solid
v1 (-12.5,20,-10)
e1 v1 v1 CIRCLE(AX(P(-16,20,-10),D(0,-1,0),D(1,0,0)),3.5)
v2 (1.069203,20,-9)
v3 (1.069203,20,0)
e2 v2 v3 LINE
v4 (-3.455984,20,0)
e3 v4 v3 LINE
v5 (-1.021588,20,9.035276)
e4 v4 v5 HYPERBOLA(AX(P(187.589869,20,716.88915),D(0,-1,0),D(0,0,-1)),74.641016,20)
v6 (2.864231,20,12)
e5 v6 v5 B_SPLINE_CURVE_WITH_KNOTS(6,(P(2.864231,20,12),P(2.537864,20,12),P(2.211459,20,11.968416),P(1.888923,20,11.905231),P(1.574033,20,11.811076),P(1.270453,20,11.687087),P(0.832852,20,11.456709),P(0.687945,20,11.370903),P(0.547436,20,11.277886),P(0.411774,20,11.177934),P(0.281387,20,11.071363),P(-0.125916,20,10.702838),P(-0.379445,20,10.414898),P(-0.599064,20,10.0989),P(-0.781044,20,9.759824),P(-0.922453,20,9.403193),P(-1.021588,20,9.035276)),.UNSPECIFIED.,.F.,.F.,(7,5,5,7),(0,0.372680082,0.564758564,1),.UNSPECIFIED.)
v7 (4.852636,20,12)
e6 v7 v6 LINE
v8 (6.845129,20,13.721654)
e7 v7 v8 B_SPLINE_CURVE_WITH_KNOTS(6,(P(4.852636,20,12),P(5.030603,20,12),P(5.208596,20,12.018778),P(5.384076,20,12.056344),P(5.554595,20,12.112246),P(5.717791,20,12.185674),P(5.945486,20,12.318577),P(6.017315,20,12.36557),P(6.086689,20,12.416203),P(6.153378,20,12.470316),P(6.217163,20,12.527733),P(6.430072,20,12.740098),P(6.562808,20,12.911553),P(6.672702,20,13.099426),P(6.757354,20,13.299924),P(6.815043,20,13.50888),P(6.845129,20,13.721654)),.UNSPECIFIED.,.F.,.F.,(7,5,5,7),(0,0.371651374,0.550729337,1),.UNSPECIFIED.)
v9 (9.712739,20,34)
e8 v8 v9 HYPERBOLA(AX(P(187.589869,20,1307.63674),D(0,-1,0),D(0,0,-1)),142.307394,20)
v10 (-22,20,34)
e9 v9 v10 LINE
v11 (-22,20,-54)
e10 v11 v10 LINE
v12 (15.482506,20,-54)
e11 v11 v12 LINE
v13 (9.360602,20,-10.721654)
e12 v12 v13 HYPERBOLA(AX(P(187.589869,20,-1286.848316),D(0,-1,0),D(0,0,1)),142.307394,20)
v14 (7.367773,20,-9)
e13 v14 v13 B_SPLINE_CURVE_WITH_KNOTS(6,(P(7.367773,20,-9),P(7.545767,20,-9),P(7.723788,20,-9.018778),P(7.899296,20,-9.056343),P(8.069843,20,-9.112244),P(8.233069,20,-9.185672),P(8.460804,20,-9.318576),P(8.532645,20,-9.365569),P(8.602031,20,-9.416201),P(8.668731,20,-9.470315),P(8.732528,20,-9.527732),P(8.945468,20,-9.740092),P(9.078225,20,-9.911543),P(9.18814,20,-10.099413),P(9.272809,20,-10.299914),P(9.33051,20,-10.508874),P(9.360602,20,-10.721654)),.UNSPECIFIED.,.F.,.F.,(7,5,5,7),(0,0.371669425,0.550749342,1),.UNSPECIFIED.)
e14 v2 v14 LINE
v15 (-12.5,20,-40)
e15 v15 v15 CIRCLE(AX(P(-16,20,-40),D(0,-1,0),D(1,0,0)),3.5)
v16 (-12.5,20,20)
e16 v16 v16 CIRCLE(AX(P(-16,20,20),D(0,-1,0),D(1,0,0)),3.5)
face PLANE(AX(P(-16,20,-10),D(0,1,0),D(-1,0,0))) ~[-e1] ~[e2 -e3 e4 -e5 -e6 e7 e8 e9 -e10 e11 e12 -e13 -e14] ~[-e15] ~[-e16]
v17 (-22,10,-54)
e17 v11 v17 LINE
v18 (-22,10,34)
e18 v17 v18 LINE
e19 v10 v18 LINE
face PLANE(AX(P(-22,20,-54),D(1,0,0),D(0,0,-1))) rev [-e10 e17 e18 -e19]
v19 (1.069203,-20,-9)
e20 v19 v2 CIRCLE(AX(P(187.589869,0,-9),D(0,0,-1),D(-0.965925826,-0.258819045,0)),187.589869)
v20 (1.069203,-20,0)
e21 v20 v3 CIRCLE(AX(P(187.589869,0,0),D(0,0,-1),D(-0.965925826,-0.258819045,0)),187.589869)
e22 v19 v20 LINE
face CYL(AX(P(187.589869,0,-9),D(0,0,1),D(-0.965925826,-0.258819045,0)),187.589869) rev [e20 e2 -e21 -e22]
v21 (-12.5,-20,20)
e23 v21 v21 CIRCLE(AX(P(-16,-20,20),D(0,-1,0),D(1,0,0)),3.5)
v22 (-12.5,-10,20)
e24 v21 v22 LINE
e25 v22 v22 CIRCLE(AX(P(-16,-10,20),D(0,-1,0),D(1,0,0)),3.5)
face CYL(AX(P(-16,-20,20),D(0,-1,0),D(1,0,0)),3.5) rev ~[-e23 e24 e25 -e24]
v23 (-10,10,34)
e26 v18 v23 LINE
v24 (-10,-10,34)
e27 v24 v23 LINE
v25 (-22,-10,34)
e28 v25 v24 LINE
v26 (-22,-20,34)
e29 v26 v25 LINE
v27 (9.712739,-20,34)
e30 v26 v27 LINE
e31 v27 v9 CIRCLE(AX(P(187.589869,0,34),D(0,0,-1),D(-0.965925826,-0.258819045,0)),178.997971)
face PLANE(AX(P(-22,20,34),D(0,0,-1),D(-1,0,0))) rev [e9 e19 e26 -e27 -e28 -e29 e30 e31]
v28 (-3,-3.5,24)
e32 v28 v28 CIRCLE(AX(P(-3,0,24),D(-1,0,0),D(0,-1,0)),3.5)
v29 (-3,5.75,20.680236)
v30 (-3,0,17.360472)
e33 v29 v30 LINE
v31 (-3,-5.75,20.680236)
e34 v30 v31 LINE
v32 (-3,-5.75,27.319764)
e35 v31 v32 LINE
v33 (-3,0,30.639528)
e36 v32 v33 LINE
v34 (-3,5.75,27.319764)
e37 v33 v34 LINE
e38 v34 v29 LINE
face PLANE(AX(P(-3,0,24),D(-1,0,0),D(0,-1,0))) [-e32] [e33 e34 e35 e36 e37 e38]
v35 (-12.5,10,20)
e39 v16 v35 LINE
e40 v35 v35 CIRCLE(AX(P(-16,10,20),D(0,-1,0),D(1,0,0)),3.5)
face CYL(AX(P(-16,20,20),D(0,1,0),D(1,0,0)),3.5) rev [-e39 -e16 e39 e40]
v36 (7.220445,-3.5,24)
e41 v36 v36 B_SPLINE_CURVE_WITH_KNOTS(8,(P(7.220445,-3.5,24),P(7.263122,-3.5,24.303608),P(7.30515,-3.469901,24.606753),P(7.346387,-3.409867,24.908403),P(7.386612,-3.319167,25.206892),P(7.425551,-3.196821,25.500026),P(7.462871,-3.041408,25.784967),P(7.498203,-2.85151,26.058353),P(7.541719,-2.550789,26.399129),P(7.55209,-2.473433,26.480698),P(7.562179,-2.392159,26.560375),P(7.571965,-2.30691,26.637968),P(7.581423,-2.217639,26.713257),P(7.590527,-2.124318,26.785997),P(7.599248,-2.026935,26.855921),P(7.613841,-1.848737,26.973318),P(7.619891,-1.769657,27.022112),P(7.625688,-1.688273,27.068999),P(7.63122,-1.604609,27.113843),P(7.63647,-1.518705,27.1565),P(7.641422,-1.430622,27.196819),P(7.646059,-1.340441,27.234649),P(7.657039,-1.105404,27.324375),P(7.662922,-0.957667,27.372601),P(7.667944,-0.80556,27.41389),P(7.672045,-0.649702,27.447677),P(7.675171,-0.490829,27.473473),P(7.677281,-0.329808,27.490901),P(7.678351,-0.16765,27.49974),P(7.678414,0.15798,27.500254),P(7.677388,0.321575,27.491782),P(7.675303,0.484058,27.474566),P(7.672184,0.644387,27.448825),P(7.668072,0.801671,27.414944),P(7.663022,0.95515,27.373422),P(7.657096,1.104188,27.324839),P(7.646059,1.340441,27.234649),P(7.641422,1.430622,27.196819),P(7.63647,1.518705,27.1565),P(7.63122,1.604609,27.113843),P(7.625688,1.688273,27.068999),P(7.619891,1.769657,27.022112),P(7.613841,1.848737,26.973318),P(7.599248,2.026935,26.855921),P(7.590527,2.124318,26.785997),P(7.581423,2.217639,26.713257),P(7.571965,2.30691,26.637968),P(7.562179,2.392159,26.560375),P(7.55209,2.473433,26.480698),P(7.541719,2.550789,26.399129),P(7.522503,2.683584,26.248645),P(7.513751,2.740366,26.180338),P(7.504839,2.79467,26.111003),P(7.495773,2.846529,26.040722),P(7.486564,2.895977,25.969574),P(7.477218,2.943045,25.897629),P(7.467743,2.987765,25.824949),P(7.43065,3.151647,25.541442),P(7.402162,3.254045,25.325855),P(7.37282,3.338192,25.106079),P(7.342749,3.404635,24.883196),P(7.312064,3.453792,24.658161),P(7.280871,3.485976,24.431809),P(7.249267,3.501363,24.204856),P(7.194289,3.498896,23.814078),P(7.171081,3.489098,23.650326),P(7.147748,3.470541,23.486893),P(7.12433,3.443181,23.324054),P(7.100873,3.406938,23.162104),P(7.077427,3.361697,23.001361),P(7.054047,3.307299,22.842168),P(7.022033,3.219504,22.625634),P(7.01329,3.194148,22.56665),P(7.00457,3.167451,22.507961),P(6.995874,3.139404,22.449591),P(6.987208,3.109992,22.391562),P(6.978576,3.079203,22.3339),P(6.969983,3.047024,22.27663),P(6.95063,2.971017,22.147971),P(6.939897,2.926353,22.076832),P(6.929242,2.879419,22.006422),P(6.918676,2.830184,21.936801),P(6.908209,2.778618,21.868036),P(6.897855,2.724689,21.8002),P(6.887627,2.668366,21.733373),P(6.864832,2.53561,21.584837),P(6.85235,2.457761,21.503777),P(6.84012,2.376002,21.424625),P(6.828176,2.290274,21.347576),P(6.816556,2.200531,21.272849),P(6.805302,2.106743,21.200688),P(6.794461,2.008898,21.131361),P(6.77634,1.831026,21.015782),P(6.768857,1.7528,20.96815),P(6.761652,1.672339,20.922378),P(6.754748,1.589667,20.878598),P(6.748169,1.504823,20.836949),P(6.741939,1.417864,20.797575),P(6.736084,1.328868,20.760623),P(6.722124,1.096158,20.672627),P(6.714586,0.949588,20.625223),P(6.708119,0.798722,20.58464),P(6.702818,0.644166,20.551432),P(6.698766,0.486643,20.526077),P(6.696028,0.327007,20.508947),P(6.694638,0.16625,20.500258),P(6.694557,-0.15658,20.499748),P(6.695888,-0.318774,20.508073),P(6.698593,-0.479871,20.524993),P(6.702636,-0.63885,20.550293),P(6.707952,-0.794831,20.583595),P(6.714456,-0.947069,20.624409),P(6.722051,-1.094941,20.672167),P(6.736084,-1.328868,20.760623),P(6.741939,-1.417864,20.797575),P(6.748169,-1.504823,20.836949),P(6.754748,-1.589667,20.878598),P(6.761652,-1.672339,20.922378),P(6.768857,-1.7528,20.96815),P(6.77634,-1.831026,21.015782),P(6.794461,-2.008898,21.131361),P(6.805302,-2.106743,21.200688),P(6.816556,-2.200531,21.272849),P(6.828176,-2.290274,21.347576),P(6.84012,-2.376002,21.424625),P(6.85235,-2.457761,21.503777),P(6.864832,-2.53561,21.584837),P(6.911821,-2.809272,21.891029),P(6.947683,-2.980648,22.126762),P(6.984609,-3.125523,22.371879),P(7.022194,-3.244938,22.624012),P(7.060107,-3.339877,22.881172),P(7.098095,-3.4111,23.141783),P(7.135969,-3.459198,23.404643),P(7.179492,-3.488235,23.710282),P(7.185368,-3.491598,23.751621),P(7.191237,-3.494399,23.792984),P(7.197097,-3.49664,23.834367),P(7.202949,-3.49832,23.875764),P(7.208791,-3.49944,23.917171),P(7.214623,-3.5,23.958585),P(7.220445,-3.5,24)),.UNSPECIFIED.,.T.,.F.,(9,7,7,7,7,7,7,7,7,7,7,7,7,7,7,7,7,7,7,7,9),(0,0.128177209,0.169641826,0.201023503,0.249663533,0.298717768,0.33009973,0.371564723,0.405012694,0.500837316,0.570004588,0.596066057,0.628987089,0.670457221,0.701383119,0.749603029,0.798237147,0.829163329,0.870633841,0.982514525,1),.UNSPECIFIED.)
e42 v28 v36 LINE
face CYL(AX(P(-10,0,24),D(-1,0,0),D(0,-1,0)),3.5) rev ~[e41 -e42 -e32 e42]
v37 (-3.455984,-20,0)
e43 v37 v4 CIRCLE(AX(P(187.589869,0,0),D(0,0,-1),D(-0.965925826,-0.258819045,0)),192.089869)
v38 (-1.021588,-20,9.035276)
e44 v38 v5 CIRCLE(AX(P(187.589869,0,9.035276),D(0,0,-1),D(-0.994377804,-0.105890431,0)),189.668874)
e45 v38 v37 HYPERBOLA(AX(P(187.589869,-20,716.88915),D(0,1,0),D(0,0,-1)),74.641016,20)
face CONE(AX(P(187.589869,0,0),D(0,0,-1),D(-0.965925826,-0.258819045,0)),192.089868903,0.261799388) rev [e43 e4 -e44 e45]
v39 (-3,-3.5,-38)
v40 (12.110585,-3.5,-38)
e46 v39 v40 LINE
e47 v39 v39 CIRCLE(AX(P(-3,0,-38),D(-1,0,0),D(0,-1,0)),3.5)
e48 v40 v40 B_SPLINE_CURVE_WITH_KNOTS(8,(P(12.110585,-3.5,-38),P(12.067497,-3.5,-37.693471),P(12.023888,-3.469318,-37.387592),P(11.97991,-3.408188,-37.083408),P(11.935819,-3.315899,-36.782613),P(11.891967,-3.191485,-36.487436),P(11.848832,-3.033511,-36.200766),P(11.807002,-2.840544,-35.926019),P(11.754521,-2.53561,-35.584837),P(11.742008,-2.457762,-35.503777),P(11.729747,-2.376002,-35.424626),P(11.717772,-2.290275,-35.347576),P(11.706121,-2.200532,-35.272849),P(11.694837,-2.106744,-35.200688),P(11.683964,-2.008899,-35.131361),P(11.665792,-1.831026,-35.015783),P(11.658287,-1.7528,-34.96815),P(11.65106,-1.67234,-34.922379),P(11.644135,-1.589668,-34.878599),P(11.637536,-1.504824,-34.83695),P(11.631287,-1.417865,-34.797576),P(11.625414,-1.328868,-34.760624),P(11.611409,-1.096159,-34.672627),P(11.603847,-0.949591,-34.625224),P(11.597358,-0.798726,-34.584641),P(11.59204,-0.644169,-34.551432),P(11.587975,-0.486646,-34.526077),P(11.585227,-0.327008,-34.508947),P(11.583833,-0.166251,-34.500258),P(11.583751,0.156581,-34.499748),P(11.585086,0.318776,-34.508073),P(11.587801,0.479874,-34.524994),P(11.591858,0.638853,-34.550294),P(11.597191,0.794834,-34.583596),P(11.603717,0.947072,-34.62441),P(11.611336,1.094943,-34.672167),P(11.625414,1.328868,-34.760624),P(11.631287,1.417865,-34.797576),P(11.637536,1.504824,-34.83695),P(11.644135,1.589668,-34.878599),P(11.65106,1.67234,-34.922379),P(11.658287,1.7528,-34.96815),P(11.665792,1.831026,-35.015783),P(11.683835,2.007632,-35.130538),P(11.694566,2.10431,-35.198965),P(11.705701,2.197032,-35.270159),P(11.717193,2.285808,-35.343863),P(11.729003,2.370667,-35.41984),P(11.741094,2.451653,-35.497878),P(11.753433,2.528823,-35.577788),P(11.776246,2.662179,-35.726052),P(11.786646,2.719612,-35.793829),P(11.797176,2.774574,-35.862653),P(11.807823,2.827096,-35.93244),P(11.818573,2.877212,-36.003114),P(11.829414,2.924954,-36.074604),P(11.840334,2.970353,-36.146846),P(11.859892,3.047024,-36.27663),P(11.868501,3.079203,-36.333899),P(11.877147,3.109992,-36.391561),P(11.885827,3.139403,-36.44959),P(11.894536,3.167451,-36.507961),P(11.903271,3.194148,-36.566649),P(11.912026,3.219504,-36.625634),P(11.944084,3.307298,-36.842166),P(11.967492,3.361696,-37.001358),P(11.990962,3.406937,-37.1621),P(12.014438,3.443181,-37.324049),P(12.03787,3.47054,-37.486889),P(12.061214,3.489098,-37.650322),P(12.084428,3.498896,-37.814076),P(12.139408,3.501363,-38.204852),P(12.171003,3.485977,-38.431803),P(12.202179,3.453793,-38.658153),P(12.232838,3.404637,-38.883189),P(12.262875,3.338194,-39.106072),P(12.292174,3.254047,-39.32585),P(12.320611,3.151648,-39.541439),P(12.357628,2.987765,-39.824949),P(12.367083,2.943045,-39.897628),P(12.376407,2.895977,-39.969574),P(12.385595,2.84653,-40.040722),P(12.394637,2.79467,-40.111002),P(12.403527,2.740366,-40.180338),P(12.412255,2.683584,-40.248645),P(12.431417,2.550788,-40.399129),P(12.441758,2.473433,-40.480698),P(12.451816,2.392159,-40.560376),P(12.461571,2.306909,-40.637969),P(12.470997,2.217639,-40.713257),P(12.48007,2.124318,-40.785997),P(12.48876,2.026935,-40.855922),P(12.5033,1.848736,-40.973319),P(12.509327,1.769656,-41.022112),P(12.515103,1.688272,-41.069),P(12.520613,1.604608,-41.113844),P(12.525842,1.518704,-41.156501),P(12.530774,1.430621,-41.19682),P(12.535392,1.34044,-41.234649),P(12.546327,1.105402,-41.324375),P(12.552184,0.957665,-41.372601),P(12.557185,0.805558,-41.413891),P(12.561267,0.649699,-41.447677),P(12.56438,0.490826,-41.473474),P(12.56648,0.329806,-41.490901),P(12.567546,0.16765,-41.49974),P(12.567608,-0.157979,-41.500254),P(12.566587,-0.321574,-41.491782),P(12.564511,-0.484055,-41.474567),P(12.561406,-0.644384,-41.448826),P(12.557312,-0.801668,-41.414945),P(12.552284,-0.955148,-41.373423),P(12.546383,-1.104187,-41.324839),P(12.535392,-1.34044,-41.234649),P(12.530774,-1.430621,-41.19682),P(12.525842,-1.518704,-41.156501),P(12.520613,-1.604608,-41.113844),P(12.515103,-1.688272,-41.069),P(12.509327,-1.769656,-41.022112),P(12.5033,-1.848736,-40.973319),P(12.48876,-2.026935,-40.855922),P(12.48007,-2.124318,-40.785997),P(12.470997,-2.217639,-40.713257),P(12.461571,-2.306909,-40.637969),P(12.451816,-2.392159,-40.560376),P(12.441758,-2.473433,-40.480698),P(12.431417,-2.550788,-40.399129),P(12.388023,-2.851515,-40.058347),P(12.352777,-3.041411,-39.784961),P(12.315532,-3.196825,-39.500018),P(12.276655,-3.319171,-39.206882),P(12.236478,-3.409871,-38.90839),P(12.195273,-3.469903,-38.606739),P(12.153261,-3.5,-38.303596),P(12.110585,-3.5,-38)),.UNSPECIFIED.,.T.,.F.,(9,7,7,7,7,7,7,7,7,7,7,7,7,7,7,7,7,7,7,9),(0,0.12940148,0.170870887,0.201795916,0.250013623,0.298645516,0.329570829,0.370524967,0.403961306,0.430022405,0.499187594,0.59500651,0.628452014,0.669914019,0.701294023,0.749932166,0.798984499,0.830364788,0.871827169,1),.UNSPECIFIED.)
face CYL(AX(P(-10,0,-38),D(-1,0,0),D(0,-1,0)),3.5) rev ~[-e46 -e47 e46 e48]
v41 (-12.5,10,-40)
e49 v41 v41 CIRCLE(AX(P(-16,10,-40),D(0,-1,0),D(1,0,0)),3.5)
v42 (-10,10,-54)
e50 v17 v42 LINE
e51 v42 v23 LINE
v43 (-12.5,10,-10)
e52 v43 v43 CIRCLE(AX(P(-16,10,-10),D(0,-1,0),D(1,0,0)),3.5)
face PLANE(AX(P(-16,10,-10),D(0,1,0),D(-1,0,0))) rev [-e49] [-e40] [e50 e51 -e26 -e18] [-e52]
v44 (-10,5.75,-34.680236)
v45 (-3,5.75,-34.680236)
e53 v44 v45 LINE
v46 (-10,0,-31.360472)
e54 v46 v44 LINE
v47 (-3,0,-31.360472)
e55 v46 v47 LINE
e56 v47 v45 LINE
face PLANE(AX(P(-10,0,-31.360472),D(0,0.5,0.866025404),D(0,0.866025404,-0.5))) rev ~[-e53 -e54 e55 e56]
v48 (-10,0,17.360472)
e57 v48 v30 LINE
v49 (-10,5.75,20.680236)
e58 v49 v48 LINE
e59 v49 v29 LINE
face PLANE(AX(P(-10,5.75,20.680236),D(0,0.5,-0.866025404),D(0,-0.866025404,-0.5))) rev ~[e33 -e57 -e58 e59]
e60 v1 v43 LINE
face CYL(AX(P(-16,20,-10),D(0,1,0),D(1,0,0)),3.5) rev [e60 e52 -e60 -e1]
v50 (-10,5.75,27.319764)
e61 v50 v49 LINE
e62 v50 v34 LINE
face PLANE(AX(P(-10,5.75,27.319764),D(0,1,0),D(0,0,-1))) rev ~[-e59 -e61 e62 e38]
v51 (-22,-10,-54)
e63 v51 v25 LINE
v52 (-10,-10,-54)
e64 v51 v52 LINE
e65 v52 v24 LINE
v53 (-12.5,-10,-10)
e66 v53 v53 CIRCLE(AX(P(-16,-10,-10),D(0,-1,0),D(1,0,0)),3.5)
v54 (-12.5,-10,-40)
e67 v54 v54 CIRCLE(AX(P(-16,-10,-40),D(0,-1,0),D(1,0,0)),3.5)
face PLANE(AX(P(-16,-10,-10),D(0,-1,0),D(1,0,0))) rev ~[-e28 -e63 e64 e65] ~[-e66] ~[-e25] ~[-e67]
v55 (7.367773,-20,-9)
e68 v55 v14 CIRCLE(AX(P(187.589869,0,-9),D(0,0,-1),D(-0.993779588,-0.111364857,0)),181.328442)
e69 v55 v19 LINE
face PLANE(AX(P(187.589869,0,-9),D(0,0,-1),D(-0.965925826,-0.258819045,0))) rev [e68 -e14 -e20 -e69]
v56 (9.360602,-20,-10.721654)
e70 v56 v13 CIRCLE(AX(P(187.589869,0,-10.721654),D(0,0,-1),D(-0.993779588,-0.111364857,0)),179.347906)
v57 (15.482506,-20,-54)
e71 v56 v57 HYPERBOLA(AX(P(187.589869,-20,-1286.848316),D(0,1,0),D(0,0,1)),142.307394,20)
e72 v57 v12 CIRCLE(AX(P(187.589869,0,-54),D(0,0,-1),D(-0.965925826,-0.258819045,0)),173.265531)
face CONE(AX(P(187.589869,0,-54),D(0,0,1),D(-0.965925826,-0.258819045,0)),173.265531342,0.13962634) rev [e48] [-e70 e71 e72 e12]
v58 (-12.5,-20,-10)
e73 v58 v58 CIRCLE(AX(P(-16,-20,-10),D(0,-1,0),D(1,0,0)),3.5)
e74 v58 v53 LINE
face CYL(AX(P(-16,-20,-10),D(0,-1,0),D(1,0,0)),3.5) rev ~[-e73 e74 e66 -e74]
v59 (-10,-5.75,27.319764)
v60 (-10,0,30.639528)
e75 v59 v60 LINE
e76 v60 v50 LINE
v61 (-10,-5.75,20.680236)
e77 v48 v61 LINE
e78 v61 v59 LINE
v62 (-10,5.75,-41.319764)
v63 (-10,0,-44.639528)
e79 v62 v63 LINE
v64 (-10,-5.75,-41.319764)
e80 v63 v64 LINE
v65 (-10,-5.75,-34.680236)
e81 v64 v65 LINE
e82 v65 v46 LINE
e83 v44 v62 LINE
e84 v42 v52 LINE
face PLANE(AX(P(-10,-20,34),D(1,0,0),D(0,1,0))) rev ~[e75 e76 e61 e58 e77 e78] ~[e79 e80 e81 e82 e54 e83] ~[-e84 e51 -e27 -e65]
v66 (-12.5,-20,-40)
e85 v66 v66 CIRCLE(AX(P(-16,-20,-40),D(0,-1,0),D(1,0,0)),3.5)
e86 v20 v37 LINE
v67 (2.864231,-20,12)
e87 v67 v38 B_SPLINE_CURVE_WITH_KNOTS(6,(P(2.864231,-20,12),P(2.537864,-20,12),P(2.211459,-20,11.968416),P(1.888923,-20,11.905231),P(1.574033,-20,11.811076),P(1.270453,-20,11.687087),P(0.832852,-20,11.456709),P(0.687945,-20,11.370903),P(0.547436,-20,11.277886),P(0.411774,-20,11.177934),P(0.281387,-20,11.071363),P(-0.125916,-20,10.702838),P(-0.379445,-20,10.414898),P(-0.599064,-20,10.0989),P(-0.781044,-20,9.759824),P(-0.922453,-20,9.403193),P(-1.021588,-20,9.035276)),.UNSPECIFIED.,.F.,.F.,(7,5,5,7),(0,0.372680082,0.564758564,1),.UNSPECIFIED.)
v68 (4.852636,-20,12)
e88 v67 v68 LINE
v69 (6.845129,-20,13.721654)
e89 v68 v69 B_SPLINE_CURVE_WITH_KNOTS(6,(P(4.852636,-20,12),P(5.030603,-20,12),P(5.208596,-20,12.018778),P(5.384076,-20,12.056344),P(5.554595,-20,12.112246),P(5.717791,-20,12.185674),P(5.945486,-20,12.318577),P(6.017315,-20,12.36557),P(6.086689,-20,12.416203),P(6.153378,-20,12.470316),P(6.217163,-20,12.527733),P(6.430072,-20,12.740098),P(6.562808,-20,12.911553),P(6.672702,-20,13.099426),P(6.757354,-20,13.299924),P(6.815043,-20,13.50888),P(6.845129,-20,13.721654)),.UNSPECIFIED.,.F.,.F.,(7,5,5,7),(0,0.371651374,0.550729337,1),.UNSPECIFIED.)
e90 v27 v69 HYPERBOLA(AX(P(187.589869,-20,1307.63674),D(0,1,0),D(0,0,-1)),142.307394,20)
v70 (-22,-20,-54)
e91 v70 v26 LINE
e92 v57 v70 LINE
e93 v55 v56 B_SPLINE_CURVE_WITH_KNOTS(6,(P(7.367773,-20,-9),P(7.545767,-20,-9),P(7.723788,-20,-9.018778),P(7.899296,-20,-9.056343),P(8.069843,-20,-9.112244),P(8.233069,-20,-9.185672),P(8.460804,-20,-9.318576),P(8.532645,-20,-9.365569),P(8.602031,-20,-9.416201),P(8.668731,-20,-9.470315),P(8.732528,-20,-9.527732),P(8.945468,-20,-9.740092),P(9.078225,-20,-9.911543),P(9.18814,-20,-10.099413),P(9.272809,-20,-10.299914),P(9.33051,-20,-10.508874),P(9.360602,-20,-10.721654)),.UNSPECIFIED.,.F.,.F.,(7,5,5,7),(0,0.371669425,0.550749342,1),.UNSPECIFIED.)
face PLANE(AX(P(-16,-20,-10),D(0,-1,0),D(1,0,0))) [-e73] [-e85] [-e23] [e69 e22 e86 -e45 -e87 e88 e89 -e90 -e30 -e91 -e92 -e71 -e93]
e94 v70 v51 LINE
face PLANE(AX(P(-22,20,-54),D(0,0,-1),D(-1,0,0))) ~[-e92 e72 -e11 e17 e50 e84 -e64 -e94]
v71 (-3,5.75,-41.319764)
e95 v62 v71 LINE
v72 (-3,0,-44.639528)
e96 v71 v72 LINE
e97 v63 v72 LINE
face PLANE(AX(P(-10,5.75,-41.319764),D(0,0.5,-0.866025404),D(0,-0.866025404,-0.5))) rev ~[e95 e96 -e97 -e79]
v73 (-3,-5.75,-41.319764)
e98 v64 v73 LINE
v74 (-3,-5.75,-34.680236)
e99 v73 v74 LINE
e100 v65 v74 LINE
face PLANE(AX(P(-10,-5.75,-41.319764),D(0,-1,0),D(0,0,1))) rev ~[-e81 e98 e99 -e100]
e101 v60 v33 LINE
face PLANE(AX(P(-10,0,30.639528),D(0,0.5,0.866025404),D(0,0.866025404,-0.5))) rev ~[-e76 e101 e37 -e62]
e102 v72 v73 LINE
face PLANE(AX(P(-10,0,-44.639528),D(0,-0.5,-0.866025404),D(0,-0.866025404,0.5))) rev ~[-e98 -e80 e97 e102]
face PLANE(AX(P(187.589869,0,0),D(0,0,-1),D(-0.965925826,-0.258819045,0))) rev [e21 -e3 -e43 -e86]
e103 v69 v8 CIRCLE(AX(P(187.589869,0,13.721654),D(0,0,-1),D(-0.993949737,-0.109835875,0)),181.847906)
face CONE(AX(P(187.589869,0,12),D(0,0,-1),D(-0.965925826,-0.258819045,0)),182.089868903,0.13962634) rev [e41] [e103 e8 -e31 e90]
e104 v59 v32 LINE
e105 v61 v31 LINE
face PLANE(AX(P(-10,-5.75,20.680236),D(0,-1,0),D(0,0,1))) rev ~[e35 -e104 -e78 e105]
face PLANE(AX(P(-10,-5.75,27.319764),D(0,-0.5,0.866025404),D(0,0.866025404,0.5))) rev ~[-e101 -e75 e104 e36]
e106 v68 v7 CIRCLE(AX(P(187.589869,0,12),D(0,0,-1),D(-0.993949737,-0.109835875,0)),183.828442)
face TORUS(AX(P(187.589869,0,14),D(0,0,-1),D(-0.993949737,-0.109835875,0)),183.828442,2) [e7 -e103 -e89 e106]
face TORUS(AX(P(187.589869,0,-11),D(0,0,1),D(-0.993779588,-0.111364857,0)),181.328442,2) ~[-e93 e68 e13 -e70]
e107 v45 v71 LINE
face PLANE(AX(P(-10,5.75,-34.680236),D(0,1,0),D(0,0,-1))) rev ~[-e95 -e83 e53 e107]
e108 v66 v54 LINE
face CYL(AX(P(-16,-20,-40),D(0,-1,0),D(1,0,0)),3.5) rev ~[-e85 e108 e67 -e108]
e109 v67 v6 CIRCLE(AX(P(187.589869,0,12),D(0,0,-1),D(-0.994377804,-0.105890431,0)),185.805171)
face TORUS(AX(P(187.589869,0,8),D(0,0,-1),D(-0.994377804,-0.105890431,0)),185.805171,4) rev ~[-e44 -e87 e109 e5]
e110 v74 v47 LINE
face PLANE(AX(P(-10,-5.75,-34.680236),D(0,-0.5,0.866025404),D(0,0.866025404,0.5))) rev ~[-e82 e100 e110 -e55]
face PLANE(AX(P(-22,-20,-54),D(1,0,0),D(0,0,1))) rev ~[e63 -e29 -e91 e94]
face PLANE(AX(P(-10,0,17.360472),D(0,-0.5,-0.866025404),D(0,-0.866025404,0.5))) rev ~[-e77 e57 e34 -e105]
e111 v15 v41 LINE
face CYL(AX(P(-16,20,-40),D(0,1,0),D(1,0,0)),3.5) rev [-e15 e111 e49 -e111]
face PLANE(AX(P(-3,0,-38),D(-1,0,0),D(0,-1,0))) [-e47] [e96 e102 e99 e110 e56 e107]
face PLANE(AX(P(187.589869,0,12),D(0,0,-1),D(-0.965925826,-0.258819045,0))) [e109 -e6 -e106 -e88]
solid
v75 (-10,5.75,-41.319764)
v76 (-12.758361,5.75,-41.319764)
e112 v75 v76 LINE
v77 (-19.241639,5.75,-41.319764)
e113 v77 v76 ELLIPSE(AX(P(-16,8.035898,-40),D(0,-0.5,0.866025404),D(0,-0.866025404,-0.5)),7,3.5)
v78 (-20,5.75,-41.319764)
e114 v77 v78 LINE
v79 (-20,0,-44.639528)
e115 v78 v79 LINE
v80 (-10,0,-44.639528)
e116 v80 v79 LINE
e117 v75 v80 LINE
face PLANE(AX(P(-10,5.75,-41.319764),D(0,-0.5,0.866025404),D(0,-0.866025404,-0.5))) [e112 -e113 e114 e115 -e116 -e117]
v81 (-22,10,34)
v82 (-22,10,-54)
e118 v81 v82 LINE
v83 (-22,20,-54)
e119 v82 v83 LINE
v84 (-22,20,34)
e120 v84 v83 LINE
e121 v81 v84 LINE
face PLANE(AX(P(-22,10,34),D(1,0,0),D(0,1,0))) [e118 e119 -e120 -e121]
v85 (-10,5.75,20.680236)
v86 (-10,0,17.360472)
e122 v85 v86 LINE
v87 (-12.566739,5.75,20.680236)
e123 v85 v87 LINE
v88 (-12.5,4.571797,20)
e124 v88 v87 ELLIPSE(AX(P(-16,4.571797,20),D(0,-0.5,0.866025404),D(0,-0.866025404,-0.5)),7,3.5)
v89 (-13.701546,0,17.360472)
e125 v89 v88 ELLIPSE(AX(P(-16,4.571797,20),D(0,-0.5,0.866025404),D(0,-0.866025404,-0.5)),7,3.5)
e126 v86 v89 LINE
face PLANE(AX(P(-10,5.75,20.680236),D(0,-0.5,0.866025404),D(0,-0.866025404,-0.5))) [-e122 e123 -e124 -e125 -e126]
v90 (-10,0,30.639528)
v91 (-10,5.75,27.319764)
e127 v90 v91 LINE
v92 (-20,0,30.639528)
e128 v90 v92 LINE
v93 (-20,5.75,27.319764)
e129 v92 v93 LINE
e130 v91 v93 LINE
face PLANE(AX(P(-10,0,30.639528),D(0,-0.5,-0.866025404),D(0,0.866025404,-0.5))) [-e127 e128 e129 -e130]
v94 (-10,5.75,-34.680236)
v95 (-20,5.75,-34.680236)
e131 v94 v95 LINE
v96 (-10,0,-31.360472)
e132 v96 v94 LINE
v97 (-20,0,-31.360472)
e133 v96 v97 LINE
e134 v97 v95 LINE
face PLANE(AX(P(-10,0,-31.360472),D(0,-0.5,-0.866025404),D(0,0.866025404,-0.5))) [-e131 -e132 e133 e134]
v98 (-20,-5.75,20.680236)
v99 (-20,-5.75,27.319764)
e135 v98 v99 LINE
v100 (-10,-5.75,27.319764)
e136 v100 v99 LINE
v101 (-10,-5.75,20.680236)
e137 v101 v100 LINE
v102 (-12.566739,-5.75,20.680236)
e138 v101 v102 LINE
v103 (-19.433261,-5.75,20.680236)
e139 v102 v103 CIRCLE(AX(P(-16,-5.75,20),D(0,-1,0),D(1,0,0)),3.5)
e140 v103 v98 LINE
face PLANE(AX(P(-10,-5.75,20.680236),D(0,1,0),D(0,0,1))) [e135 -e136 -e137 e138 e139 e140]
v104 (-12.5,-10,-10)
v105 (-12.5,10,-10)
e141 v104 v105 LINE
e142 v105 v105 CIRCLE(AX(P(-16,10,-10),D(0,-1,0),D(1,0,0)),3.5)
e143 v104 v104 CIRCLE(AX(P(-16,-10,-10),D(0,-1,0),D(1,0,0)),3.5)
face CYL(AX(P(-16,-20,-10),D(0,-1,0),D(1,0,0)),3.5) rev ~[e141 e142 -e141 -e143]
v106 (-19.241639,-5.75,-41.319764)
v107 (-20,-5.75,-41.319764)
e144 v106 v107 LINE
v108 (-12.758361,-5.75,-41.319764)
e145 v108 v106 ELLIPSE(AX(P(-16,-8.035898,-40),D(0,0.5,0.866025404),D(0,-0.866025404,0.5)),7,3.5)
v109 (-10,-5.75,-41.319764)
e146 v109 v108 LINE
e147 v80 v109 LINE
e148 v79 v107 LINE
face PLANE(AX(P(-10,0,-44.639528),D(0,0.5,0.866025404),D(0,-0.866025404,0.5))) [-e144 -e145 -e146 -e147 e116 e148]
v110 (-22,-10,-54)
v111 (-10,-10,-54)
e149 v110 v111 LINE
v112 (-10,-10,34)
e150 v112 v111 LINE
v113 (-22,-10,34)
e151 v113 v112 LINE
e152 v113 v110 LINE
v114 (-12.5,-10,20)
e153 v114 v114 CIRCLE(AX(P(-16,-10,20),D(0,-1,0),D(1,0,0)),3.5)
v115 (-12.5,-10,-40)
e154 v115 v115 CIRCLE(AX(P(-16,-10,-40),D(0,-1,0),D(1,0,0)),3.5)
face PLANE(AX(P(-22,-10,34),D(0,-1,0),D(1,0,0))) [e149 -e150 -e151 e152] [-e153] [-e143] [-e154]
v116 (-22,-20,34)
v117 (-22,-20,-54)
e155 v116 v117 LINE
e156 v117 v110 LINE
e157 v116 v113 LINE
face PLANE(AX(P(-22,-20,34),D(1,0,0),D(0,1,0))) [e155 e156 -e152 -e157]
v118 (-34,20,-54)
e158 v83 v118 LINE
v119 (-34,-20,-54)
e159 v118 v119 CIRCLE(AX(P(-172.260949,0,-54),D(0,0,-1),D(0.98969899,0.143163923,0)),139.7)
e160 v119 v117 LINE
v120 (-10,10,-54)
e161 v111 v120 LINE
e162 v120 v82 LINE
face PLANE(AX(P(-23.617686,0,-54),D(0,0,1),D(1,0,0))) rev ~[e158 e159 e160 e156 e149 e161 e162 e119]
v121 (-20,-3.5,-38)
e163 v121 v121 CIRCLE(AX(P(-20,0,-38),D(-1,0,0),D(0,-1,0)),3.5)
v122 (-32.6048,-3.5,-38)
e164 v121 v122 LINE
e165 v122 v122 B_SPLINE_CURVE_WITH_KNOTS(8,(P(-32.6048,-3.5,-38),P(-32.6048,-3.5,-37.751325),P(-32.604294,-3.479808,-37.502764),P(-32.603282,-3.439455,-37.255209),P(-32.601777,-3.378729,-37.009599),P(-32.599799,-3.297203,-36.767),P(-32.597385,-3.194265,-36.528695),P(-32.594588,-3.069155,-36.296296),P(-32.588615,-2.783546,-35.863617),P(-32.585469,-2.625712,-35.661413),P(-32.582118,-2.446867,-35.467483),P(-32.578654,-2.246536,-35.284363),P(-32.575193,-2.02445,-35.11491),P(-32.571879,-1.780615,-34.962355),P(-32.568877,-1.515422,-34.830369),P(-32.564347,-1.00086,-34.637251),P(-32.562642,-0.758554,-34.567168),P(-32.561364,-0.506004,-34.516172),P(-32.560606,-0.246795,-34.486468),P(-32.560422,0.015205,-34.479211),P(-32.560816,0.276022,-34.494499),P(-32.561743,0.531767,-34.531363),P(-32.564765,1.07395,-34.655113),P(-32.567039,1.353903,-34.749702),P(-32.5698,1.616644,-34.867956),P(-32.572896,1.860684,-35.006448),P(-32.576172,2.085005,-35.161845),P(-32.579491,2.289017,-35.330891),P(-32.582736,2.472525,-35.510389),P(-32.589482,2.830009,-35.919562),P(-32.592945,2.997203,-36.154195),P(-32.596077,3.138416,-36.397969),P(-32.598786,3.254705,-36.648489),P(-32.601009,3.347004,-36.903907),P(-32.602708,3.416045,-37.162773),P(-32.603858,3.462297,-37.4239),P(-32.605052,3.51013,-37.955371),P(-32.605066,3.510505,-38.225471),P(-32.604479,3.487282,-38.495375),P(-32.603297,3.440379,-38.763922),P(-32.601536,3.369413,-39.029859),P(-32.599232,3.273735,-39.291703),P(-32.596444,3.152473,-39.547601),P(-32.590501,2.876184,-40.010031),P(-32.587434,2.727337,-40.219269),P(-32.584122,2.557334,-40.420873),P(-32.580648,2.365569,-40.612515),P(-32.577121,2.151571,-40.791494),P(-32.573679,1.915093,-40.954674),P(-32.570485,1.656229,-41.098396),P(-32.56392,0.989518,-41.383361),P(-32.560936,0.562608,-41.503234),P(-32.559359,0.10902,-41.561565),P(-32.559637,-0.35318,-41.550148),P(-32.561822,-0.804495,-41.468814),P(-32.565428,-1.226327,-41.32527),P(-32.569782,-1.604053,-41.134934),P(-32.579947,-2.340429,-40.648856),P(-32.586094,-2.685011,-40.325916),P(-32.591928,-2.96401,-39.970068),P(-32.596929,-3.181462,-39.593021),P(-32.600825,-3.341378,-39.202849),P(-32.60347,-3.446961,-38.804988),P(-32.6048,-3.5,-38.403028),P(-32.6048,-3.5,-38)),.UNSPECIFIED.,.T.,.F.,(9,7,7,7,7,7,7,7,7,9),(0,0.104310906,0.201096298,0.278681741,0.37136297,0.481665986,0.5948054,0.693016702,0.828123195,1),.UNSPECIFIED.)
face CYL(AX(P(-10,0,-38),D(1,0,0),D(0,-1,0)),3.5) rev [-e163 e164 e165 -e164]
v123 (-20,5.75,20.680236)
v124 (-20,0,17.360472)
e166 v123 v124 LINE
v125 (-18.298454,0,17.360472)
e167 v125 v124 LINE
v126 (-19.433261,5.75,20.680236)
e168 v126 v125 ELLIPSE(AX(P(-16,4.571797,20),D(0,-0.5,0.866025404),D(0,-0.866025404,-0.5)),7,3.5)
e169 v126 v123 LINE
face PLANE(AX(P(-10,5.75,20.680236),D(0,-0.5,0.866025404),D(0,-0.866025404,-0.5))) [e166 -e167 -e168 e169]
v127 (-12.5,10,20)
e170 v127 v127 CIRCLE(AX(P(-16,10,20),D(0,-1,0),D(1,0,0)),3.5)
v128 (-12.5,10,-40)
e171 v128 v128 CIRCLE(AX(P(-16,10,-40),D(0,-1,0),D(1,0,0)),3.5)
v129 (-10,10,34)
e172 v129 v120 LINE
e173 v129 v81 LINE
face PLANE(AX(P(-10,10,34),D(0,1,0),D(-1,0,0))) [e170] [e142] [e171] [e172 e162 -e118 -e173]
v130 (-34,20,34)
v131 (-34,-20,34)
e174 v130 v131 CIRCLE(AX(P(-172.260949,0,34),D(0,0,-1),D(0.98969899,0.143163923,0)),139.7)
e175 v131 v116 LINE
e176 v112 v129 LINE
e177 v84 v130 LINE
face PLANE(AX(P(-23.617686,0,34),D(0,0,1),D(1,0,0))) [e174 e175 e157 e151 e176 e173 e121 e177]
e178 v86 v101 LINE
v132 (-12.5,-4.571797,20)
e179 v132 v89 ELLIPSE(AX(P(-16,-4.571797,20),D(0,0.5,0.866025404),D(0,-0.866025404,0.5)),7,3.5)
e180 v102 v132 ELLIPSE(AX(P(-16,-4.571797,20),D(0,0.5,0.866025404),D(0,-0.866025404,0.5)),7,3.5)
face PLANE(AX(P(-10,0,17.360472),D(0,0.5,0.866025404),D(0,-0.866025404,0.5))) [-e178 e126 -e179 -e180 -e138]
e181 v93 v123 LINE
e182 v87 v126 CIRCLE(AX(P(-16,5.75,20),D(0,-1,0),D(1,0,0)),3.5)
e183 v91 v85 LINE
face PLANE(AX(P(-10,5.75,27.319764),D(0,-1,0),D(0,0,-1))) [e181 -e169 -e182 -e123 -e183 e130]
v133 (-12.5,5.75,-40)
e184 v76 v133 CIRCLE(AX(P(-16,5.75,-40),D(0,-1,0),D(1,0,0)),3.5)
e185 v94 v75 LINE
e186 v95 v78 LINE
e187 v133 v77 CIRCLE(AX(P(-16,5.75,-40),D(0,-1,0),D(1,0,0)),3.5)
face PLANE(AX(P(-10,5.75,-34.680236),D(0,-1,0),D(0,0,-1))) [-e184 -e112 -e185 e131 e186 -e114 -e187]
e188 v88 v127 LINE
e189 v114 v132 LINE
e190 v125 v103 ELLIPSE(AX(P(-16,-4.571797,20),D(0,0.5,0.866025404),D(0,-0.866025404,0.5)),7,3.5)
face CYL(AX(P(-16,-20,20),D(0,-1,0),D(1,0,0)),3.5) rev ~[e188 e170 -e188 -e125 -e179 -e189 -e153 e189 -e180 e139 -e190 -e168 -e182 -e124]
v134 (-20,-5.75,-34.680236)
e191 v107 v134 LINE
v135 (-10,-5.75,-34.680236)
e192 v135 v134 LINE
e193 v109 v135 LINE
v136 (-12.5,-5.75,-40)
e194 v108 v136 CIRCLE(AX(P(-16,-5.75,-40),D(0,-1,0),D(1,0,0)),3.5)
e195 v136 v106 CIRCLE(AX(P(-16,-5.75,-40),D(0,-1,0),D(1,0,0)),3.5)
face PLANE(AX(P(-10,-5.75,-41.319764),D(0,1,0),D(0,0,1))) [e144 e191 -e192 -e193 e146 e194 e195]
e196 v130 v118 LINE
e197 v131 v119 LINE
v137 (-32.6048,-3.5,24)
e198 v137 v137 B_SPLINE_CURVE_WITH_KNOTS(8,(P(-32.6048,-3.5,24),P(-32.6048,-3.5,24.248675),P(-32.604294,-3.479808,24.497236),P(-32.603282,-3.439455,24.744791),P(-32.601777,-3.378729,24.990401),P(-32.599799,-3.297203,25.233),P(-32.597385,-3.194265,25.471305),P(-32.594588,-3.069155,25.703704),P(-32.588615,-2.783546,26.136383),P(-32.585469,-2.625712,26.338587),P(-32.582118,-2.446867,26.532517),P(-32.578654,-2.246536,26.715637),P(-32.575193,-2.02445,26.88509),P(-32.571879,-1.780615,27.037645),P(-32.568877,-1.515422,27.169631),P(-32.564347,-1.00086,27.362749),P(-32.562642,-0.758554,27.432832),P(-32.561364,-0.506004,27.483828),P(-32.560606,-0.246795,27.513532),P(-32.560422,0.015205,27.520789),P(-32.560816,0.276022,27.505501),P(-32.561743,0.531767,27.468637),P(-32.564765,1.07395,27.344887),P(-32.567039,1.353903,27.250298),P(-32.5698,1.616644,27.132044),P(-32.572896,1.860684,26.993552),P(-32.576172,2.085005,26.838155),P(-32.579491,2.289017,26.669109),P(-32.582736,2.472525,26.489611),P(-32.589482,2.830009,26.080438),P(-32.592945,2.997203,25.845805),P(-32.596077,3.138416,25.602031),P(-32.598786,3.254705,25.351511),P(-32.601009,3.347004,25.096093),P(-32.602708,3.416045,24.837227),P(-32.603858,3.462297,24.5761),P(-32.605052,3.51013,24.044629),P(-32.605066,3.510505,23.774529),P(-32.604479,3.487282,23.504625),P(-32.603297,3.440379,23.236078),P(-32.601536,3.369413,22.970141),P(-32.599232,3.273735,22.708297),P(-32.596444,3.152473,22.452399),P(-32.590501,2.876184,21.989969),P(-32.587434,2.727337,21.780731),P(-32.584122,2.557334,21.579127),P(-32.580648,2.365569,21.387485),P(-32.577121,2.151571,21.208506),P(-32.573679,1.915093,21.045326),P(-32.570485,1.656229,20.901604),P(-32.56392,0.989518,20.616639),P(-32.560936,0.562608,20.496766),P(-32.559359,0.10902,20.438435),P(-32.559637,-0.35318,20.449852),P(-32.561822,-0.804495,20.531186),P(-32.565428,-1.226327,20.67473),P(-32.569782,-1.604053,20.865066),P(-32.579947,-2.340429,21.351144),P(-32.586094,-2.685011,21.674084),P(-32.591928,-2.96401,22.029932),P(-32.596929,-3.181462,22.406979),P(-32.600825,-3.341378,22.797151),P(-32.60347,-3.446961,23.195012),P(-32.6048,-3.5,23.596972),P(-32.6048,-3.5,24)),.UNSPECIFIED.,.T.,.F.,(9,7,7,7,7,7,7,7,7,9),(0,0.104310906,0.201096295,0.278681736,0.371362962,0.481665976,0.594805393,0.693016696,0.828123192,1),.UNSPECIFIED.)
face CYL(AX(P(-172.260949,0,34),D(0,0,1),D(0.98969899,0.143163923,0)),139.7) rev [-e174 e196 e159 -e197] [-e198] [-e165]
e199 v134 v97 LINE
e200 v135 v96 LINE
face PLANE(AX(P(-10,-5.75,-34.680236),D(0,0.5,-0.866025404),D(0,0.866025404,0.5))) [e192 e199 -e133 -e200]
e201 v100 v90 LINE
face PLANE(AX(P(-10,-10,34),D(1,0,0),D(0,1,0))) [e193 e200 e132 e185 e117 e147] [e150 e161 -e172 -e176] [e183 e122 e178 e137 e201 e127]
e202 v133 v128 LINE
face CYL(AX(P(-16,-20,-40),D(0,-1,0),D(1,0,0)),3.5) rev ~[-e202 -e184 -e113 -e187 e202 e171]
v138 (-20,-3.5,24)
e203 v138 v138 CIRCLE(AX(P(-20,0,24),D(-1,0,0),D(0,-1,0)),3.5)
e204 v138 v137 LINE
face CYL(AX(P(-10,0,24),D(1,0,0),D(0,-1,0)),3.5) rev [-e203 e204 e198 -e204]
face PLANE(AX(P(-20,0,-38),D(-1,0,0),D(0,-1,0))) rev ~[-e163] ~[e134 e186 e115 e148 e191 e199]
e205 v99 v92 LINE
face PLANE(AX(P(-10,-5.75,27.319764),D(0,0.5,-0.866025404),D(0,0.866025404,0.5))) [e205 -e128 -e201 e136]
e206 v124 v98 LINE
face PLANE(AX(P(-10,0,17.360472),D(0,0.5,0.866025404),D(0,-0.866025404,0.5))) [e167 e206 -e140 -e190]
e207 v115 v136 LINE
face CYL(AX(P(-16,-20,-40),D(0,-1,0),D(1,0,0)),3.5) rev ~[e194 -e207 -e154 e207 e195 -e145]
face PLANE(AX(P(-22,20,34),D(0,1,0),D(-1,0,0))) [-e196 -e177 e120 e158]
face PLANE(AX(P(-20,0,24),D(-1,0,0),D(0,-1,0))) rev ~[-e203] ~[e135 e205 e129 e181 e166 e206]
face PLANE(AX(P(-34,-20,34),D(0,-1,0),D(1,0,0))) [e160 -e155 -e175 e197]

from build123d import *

# Parameters (mm, degrees)
F1_ANGLE_BACK = 15
F1_ANGLE      = 30
F3_DEPTH      = 88.001
F4_R          = 4
F5_R          = 2
F6_R          = 3.5
F7_DEPTH      = 7
F8_DEPTH      = 25.4835061419
F9_W          = 12
F9_H          = 88
F9_R          = 3.5
F10_DEPTH     = 10
F14_DEPTH     = 88
F15_DEPTH     = 40.0010001
F16_DEPTH     = 24.001
F17_DEPTH     = 10


with BuildPart() as f1:
    # F0 (on Front) → F1 (revolve)
    with BuildSketch(Plane.XZ, mode=Mode.PRIVATE) as f1_sk:
        Polygon((5.5, 12), (8.5918983635, 34), (-15, 34), (-15, -54), (14.3243375616, -54), (8, -9), (0, -9), (0, 0), (-4.5, 0), (-1.2846096908, 12), align=None)
    revolve(f1_sk.sketch.rotate(Axis((187.5898689032, 0, -10), (0, 0, -1)), -F1_ANGLE_BACK), axis=Axis((187.5898689032, 0, -10), (0, 0, -1)), revolution_arc=F1_ANGLE)

    # F2 (on face) → F3 (cut, through all)
    with BuildSketch(Plane.XY.offset(34)):
        Polygon((-30, -20), (-30, -120), (30, -120), (30, -20), (-10, -20), (-10, 20), (30, 20), (30, 120), (-30, 120), (-30, 20), align=None)
    extrude(amount=-F3_DEPTH, mode=Mode.SUBTRACT)

    # F4
    f4_edges = [f1.edges().sort_by_distance(p)[0] for p in [
        (-1.28461, 0, 12),
    ]]
    fillet(f4_edges, radius=F4_R)

    # F5
    f5_edges = [f1.edges().sort_by_distance(p)[0] for p in [
        (5.5, 0, 12),
        (8, 0, -9),
    ]]
    fillet(f5_edges, radius=F5_R)

    # F6 (on face) → F7 (cut)
    with BuildSketch(Plane(origin=(-10, 0, 0), x_dir=(0, -1, 0), z_dir=(-1, 0, 0))):
        Polygon((5.75, 27.3197640478), (0, 30.6395280957), (-5.75, 27.3197640478), (-5.75, 20.6802359522), (0, 17.3604719043), (5.75, 20.6802359522), align=None)
        with Locations((0, 24)):
            Circle(F6_R, mode=Mode.SUBTRACT)
        Polygon((5.75, -34.6802359522), (0, -31.3604719043), (-5.75, -34.6802359522), (-5.75, -41.3197640478), (0, -44.6395280957), (5.75, -41.3197640478), align=None)
        with Locations((0, -38)):
            Circle(F6_R, mode=Mode.SUBTRACT)
        with Locations((0, 24)):
            Circle(F6_R)
        with Locations((0, -38)):
            Circle(F6_R)
    extrude(amount=-F7_DEPTH, mode=Mode.SUBTRACT)

    # F6 (on face) → F8 (cut, through all)
    with BuildSketch(Plane(origin=(-10, 0, 0), x_dir=(0, -1, 0), z_dir=(-1, 0, 0))):
        with Locations((0, 24)):
            Circle(F6_R)
        with Locations((0, -38)):
            Circle(F6_R)
    extrude(amount=-F8_DEPTH, mode=Mode.SUBTRACT)


with BuildPart() as f10:
    # F9 (on face) → F10 (new body)
    with BuildSketch(Plane.XZ.offset(20)):
        with Locations((-16, -10)):
            Rectangle(F9_W, F9_H)
        with Locations((-16, -40)):
            Circle(F9_R, mode=Mode.SUBTRACT)
        with Locations((-16, -10)):
            Circle(F9_R, mode=Mode.SUBTRACT)
        with Locations((-16, 20)):
            Circle(F9_R, mode=Mode.SUBTRACT)
    extrude(amount=-F10_DEPTH)


with BuildPart() as f11_1:
    # F11: instance of F10
    add(f10.part.mirror(Plane.XZ))


with BuildPart() as f1_1:
    add(f1.part)

    # F12: union F10, F11_1
    add(f10.part)
    add(f11_1.part)


with BuildPart() as f14:
    # F13 (on face) → F14 (new body, through all)
    with BuildSketch(Plane.XY.offset(34)):
        with BuildLine():
            Line((-10, 10), (-22, 10))
            Line((-22, 10), (-22, 20))
            Line((-22, 20), (-34, 20))
            ThreePointArc((-34, 20), (-32.5609489335, 0), (-34, -20))
            Line((-34, -20), (-22, -20))
            Line((-22, -20), (-22, -10))
            Line((-22, -10), (-10, -10))
            Line((-10, -10), (-10, 10))
        make_face()
    extrude(amount=-F14_DEPTH)

    # F9 (on face) → F15 (cut, through all)
    with BuildSketch(Plane.XZ.offset(20)):
        with Locations((-16, 20)):
            Circle(F9_R)
        with Locations((-16, -10)):
            Circle(F9_R)
        with Locations((-16, -40)):
            Circle(F9_R)
    extrude(amount=-F15_DEPTH, mode=Mode.SUBTRACT)

    # F6 (on face) → F16 (cut, through all)
    with BuildSketch(Plane(origin=(-10, 0, 0), x_dir=(0, -1, 0), z_dir=(-1, 0, 0))):
        with Locations((0, -38)):
            Circle(F6_R)
        with Locations((0, 24)):
            Circle(F6_R)
    extrude(amount=F16_DEPTH, mode=Mode.SUBTRACT)

    # F6 (on face) → F17 (cut)
    with BuildSketch(Plane(origin=(-10, 0, 0), x_dir=(0, -1, 0), z_dir=(-1, 0, 0))):
        Polygon((5.75, -34.6802359522), (0, -31.3604719043), (-5.75, -34.6802359522), (-5.75, -41.3197640478), (0, -44.6395280957), (5.75, -41.3197640478), align=None)
        with Locations((0, -38)):
            Circle(F6_R, mode=Mode.SUBTRACT)
        Polygon((5.75, 27.3197640478), (0, 30.6395280957), (-5.75, 27.3197640478), (-5.75, 20.6802359522), (0, 17.3604719043), (5.75, 20.6802359522), align=None)
        with Locations((0, 24)):
            Circle(F6_R, mode=Mode.SUBTRACT)
    extrude(amount=F17_DEPTH, mode=Mode.SUBTRACT)


solid = Compound([f1_1.part, f14.part])
